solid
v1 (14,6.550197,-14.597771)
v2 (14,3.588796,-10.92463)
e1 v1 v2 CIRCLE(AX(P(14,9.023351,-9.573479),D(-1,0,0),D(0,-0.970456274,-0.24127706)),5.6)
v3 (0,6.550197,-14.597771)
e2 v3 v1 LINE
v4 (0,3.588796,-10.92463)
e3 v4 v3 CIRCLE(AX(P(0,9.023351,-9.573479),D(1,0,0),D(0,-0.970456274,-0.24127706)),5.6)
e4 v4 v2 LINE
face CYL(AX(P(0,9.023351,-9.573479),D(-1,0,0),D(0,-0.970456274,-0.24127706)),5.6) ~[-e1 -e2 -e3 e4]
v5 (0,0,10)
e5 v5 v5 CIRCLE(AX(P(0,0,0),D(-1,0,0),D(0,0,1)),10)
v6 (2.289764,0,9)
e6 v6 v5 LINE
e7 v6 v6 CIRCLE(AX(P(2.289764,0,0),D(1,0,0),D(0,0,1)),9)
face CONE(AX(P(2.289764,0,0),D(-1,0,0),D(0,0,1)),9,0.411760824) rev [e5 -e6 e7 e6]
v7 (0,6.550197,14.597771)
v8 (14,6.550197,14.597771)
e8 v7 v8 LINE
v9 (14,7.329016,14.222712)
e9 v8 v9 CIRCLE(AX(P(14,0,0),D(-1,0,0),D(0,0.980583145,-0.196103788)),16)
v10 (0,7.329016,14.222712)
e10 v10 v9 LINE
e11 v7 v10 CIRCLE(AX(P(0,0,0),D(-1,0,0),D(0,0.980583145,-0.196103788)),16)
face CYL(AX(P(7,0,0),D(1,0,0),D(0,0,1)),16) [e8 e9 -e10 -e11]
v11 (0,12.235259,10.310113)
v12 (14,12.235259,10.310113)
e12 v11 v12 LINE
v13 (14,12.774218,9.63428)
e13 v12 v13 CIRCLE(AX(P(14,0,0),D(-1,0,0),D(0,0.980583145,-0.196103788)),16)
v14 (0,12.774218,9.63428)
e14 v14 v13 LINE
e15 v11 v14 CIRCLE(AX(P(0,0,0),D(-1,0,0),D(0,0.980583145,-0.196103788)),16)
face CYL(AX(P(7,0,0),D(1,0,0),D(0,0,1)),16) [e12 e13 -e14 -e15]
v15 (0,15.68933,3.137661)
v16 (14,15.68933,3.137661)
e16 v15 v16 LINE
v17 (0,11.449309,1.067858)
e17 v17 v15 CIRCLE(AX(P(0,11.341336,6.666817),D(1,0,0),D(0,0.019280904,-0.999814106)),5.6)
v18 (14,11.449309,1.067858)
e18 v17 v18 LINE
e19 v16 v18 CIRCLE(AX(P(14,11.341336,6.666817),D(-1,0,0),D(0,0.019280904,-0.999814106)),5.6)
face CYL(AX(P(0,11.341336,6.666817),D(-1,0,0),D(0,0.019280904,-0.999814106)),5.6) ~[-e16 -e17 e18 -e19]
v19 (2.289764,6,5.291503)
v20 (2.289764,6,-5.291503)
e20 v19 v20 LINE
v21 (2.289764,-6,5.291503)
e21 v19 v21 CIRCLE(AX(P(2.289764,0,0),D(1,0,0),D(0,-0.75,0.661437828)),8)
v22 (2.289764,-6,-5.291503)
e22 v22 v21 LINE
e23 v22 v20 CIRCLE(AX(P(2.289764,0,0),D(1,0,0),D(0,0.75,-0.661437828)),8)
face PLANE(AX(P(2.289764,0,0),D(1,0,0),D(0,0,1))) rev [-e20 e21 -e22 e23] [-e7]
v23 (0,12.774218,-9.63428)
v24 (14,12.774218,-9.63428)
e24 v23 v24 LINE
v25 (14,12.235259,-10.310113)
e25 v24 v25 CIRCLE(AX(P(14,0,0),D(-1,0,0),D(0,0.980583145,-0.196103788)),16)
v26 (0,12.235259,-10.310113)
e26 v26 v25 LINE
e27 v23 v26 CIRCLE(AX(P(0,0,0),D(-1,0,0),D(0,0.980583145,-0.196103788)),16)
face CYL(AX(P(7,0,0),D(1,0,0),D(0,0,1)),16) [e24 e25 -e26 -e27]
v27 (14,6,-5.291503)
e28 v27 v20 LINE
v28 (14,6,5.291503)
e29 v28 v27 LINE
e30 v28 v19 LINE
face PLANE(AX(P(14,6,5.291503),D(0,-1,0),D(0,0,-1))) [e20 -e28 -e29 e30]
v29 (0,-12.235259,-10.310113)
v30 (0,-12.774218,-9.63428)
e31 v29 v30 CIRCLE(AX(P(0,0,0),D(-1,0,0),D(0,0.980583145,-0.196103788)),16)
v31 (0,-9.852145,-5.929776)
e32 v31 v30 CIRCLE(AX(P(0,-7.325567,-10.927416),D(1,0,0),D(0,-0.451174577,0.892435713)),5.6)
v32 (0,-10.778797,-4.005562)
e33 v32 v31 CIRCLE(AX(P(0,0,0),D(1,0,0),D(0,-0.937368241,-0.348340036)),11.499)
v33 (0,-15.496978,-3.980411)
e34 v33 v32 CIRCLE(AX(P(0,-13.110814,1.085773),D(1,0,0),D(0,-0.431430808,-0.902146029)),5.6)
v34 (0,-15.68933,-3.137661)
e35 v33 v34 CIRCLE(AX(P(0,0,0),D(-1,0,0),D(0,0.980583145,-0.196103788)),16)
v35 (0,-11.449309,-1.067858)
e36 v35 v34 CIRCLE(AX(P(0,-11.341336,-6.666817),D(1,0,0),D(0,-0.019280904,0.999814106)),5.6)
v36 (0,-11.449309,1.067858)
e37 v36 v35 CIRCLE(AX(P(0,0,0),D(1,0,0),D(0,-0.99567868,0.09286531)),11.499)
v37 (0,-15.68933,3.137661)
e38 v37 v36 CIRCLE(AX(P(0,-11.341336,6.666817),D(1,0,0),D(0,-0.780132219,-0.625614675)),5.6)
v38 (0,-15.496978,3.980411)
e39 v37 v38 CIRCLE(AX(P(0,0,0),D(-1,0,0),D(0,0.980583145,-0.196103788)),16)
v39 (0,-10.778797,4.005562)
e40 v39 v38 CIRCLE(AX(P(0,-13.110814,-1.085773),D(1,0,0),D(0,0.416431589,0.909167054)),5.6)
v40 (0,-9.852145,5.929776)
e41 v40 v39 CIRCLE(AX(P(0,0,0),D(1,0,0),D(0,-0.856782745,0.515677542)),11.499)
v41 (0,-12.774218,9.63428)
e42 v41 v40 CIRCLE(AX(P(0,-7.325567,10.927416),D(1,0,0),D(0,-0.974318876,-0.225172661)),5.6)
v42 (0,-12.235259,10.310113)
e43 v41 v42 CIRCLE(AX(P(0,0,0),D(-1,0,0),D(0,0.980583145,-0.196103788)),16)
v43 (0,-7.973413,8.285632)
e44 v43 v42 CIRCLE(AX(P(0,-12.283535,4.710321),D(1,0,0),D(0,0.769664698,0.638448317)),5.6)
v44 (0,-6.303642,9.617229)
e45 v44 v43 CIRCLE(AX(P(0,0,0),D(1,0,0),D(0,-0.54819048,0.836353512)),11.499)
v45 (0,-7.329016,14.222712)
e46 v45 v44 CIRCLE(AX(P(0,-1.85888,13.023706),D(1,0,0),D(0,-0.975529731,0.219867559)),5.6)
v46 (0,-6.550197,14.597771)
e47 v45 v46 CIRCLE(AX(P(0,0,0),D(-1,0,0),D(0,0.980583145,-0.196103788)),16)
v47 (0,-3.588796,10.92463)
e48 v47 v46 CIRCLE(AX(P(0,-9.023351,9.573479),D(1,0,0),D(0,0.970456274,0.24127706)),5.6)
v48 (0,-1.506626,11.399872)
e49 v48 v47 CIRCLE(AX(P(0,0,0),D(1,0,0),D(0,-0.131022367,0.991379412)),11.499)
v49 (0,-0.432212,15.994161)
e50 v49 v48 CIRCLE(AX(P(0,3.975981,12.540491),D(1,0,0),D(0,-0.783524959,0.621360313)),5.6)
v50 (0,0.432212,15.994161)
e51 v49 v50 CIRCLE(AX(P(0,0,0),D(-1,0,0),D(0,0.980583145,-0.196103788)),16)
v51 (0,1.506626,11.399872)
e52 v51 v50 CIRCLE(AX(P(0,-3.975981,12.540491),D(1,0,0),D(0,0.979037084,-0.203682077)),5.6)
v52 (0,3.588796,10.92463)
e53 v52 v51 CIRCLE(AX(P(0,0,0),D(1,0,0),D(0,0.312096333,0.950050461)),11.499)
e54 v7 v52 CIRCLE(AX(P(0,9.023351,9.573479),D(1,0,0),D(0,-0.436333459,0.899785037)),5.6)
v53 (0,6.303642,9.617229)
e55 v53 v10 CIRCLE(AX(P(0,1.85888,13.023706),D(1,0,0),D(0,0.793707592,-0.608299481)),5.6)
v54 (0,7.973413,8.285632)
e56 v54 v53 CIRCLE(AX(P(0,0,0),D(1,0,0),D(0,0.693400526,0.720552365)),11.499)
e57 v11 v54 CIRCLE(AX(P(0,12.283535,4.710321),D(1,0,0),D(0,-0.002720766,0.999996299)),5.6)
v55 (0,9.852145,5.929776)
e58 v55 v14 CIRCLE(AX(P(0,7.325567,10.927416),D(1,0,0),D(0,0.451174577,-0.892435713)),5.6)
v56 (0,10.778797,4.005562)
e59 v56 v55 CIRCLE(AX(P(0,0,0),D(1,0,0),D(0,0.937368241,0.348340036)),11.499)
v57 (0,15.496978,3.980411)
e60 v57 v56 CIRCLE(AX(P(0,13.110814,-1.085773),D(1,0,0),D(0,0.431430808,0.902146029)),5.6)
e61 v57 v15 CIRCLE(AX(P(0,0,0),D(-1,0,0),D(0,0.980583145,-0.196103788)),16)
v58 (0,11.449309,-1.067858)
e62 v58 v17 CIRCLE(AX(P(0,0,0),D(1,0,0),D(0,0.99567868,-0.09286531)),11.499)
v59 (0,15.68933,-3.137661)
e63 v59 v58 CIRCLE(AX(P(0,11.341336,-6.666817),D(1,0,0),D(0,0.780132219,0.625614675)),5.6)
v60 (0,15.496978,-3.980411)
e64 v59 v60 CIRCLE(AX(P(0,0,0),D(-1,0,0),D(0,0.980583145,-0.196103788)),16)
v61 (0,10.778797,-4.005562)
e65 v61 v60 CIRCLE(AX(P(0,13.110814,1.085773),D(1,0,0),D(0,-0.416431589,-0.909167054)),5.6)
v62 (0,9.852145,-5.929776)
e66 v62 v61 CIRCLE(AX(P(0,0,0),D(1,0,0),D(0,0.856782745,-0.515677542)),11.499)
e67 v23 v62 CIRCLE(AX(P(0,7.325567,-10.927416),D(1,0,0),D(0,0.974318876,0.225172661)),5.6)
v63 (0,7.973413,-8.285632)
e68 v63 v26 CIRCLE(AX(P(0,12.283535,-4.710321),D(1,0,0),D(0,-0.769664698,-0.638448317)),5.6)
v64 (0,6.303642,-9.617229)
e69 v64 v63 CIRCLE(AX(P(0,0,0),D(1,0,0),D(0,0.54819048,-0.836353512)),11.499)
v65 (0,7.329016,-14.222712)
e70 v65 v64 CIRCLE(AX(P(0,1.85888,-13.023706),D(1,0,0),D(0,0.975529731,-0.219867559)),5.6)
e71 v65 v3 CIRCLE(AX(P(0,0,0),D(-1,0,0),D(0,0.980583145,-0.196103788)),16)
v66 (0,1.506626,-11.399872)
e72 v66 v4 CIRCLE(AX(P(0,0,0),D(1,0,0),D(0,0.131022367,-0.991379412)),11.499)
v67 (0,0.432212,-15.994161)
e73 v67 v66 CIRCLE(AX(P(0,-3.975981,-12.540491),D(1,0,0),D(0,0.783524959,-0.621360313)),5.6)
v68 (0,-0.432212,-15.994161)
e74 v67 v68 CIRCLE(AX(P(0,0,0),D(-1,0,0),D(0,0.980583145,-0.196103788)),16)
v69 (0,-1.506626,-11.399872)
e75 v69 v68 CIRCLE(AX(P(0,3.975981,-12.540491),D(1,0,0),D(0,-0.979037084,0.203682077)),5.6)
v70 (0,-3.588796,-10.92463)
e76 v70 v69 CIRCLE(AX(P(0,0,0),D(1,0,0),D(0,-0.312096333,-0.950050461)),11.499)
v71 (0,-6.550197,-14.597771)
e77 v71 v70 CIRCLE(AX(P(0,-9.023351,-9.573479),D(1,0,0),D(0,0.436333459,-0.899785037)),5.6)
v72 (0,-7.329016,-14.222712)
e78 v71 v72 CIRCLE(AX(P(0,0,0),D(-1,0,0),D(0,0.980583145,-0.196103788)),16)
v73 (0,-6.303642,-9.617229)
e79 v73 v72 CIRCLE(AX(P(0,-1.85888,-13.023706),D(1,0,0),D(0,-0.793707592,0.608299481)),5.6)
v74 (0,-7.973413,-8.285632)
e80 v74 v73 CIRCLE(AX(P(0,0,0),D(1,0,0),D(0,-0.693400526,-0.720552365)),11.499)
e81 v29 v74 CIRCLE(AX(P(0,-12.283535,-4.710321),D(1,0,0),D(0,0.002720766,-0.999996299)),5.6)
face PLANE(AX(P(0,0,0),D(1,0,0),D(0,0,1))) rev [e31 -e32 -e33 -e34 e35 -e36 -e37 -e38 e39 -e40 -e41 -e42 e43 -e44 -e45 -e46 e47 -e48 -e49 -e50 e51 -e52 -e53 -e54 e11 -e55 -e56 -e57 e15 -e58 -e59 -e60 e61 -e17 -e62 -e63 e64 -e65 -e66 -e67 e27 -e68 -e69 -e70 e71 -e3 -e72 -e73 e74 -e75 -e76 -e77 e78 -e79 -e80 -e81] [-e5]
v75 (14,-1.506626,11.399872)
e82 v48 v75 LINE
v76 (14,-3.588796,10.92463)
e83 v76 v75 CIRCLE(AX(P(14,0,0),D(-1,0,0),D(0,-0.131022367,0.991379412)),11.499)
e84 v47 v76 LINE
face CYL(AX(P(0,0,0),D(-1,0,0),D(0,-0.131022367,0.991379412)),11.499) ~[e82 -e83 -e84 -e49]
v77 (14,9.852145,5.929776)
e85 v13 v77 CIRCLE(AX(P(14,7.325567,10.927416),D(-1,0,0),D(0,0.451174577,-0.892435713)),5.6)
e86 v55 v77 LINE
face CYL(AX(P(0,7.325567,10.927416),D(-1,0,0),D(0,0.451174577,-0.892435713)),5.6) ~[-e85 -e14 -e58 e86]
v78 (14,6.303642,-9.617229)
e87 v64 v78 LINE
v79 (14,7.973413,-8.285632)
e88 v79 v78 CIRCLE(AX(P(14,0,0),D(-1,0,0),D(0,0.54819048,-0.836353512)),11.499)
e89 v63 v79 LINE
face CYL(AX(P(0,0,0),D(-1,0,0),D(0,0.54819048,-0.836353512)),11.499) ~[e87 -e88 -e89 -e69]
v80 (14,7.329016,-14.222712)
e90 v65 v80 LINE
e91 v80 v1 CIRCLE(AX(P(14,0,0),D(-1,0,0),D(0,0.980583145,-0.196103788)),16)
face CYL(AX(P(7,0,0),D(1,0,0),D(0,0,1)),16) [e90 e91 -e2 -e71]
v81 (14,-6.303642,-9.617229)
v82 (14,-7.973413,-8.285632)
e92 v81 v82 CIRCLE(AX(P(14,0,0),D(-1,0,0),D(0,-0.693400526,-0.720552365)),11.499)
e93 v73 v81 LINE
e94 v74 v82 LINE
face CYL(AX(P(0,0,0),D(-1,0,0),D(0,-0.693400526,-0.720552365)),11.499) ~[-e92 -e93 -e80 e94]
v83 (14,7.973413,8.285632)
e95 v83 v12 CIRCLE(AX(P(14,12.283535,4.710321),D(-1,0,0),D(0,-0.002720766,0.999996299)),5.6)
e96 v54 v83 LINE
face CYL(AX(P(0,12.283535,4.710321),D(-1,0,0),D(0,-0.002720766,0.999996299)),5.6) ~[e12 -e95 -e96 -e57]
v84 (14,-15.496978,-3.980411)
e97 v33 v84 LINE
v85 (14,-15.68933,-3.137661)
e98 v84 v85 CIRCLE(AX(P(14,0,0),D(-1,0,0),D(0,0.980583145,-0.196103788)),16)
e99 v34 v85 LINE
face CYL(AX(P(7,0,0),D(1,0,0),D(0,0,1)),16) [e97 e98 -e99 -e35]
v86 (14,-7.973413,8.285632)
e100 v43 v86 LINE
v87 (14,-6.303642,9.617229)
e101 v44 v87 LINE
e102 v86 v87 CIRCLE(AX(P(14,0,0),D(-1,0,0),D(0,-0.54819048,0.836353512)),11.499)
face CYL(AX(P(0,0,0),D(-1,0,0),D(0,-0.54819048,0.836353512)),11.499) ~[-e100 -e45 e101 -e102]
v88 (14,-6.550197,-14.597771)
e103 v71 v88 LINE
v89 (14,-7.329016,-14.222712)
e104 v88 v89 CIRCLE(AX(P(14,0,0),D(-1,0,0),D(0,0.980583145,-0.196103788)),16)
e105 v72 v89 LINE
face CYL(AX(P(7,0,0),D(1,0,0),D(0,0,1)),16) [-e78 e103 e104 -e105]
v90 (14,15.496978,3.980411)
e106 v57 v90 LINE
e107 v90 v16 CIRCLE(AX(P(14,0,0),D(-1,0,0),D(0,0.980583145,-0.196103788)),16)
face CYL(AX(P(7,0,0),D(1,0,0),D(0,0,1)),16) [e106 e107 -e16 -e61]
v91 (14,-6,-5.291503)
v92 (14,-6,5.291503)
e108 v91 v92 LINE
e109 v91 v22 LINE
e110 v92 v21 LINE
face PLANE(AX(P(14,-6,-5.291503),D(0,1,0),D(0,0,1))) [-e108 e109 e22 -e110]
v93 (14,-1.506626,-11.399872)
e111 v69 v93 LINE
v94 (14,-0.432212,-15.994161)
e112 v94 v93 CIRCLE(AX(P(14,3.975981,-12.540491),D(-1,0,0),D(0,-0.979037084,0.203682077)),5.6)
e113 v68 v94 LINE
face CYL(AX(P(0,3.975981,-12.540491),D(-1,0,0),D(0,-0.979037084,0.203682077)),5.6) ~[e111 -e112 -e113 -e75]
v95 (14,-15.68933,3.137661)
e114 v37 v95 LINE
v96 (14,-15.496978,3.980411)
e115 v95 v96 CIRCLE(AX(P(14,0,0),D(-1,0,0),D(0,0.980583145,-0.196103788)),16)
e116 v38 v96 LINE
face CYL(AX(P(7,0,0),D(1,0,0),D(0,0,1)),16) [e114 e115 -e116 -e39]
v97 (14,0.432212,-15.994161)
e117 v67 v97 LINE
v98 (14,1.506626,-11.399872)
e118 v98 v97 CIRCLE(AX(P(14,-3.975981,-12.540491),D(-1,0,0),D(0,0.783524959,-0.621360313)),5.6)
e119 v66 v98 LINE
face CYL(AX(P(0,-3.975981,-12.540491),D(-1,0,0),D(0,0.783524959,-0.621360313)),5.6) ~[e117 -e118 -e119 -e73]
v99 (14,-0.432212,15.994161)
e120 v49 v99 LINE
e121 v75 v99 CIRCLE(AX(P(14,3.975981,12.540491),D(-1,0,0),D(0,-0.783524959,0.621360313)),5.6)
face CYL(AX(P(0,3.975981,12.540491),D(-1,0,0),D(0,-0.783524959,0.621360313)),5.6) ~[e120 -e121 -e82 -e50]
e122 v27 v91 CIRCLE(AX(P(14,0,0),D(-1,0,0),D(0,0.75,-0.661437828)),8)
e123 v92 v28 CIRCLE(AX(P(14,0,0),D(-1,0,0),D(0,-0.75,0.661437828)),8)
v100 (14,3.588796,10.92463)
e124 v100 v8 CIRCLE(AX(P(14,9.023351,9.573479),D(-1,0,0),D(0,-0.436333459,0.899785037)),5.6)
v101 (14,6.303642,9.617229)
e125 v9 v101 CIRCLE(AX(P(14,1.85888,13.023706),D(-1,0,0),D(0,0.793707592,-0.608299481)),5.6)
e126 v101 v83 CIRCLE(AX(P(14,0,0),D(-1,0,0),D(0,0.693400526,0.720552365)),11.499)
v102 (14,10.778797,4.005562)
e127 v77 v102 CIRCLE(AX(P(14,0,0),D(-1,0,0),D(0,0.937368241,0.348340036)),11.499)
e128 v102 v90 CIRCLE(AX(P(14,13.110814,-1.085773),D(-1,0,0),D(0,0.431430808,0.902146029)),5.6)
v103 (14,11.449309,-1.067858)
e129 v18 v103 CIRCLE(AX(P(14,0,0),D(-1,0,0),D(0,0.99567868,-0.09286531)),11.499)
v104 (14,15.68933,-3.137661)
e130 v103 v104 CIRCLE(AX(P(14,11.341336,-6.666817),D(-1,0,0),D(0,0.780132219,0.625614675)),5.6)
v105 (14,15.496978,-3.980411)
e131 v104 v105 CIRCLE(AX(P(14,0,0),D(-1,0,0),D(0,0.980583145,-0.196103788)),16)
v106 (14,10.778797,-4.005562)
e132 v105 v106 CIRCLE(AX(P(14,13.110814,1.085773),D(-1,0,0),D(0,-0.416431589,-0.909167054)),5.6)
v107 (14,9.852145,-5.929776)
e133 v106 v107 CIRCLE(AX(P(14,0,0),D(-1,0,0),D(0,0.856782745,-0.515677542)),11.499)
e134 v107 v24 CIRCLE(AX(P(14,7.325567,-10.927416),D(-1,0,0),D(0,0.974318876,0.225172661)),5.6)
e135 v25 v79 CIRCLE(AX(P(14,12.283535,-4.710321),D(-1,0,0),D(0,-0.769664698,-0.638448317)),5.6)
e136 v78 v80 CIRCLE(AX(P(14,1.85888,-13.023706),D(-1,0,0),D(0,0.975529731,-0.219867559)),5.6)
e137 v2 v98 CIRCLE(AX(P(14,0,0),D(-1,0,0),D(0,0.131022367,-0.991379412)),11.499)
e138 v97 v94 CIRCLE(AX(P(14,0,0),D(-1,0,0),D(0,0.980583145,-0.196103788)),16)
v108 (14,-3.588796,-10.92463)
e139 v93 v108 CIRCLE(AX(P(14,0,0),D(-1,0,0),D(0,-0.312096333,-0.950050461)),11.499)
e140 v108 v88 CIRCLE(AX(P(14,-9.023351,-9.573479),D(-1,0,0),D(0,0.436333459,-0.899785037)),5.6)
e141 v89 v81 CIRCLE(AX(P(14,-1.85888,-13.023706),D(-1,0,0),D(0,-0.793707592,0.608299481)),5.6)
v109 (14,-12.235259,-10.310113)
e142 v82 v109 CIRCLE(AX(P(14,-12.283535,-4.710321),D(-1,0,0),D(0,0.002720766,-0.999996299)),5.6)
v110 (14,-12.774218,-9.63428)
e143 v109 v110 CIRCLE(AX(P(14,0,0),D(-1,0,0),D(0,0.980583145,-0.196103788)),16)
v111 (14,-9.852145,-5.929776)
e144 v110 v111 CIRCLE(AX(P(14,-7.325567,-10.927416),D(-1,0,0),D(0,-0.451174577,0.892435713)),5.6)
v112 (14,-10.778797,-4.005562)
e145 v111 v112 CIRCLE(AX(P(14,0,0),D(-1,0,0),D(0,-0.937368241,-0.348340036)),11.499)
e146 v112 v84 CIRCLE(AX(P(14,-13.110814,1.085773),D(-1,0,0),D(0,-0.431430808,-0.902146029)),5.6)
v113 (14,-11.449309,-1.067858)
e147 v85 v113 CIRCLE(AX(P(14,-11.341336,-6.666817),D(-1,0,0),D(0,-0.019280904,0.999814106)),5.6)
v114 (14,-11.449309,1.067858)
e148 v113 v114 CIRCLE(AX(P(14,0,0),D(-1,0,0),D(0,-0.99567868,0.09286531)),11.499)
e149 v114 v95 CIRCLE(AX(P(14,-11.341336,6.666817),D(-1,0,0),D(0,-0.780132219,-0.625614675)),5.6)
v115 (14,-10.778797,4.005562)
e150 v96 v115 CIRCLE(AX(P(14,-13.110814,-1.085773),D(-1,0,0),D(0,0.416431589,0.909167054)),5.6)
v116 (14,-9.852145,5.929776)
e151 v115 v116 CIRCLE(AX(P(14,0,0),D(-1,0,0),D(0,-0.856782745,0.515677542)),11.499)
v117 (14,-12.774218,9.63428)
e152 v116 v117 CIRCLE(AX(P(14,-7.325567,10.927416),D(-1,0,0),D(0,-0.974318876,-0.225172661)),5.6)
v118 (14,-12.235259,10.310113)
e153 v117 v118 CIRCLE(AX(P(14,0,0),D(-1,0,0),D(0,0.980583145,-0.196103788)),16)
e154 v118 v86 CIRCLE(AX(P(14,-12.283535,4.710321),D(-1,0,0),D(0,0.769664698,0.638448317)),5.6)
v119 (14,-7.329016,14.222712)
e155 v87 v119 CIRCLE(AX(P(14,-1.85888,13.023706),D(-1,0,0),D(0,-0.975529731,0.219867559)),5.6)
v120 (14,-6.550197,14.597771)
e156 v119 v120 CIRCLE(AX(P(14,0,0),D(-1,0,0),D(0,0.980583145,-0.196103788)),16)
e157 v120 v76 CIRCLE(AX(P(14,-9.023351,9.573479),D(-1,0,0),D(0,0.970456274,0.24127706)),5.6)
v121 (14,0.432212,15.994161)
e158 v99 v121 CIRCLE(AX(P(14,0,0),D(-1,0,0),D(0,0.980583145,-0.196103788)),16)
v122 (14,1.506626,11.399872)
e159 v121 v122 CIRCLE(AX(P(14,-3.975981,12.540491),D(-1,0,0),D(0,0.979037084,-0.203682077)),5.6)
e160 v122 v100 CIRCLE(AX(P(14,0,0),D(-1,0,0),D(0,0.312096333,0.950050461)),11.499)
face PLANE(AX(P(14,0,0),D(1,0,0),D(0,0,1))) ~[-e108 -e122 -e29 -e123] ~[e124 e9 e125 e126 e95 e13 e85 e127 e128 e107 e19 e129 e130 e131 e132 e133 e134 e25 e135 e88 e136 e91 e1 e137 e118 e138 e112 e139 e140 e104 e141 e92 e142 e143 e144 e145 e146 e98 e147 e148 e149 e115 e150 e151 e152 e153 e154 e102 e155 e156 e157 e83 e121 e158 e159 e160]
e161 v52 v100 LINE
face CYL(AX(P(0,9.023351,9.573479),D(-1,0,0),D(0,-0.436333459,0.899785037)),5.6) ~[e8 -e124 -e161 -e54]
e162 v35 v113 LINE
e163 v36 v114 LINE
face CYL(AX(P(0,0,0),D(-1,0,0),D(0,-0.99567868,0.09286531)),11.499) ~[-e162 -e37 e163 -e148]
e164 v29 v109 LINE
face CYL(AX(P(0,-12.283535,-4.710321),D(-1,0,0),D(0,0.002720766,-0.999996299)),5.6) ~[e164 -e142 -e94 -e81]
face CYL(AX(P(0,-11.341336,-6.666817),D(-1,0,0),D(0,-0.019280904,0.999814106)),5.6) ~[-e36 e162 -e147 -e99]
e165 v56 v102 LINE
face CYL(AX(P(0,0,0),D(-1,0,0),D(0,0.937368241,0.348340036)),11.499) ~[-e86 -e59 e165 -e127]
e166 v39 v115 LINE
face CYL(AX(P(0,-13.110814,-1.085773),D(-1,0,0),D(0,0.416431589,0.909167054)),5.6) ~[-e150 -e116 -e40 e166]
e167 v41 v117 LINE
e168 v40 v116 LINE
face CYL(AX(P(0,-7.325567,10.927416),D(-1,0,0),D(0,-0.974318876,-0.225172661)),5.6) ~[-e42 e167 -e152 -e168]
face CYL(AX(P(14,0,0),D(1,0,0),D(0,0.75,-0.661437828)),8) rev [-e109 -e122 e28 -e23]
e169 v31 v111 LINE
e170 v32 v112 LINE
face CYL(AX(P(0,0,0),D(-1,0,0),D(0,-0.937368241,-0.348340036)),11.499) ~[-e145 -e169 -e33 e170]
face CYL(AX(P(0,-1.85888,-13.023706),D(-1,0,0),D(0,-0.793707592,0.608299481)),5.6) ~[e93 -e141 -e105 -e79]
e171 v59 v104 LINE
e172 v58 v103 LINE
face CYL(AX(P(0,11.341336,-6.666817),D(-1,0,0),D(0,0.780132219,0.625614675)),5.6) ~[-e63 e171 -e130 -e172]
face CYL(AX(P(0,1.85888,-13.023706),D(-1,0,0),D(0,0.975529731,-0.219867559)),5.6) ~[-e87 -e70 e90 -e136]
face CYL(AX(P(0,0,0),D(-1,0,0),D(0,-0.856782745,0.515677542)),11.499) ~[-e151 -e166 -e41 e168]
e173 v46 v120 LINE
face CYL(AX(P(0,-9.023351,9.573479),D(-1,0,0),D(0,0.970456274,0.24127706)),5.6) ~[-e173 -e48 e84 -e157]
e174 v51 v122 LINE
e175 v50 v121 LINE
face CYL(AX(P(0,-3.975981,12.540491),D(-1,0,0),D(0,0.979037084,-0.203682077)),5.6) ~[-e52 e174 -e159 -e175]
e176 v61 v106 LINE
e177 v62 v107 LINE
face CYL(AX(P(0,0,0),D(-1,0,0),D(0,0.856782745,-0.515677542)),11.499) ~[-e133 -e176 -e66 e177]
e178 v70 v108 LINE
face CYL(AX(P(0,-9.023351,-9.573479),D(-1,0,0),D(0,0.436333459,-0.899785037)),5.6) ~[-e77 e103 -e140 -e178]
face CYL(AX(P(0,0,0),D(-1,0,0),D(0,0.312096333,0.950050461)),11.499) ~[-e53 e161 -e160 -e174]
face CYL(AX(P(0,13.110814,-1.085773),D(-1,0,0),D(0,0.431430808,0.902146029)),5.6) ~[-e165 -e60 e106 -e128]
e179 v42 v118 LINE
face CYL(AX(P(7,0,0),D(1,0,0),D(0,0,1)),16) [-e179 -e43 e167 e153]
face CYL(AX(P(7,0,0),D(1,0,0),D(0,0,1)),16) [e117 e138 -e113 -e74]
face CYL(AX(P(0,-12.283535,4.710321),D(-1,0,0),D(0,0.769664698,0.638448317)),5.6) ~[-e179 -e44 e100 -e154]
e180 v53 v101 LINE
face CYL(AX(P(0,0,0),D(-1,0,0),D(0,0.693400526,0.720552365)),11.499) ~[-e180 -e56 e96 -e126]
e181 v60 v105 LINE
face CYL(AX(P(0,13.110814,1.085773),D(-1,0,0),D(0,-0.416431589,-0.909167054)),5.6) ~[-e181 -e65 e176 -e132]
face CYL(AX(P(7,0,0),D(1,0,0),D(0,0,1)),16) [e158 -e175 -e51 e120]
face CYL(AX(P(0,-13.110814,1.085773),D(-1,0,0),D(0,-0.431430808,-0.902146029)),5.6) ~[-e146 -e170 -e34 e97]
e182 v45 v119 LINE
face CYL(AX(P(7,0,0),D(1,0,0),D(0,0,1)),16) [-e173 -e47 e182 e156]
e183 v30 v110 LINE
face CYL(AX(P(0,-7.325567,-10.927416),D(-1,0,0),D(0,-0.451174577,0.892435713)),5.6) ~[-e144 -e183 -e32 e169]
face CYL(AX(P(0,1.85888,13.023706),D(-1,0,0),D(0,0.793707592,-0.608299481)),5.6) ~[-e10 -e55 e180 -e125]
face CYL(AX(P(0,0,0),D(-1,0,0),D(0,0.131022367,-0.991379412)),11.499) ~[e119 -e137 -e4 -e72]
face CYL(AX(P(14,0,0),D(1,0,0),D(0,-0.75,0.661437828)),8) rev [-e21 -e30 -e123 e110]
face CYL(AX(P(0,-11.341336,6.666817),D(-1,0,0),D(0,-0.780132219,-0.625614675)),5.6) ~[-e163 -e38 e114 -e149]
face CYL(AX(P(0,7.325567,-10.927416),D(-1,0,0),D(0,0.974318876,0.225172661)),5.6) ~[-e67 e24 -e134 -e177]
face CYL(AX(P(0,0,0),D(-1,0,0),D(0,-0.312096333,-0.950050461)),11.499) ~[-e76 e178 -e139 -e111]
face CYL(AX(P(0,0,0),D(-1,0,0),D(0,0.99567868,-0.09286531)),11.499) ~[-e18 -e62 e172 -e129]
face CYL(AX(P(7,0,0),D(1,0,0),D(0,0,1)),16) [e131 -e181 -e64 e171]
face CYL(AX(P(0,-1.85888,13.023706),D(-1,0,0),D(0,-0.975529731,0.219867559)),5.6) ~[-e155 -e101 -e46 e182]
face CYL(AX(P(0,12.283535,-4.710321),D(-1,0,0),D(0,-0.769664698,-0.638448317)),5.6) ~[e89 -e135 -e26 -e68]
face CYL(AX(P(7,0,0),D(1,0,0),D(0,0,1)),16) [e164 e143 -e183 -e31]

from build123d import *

# Parameters (mm, degrees)
BASPROSKE_W        = 14
BASPROSKE_H        = 16
TOOTHCUT_DEPTH     = 27.608269391
TEETHCUTS_COUNT    = 14
TEETHCUTS_ANGLE    = 334.285714286
BORSKE_R           = 0.4
BORE_DEPTH         = 50.0000508
CUT_EXTRUDE1_DEPTH = 27.422624507


with BuildPart() as part:
    # BasProSke → Base-Revolve (revolve)
    with BuildSketch(Plane(origin=(0, 0, 0), x_dir=(1, 0, 0), z_dir=(0, 1, 0)), mode=Mode.PRIVATE) as base_revolve_sk:
        with Locations((7, 8)):
            Rectangle(BASPROSKE_W, BASPROSKE_H)
    revolve(base_revolve_sk.sketch.rotate(Axis((-10, 0, 0), (1, 0, 0)), 180), axis=Axis((-10, 0, 0), (1, 0, 0)))

    # TooCutSke → ToothCut (cut, through all)
    with BuildSketch(Plane(origin=(0, 0, 0), x_dir=(0, 0, -1), z_dir=(1, 0, 0))):
        with BuildLine():
            ThreePointArc((1.067858192, 11.449309144), (0, 11.499), (-1.067858192, 11.449309144))
            ThreePointArc((-1.067858192, 11.449309144), (-1.641684211, 13.812780716), (-3.163375005, 15.710076503))
            ThreePointArc((-3.163375005, 15.710076503), (0, 16.0254), (3.163375005, 15.710076503))
            ThreePointArc((3.163375005, 15.710076503), (1.641684211, 13.812780716), (1.067858192, 11.449309144))
        make_face()
    toothcut = extrude(amount=TOOTHCUT_DEPTH, mode=Mode.SUBTRACT)

    # TeethCuts: ToothCut ×14 about axis
    teethcuts_axis = Axis((-10, 0, 0), (1, 0, 0))
    for i in range(1, TEETHCUTS_COUNT):
        add(toothcut.rotate(teethcuts_axis, i * TEETHCUTS_ANGLE / (TEETHCUTS_COUNT - 1)), mode=Mode.SUBTRACT)

    # BorSke → Bore (cut, symmetric)
    with BuildSketch(Plane(origin=(0, 0, 0), x_dir=(0, 0, -1), z_dir=(1, 0, 0))):
        with Locations(Location((0, 0, 0), (0, 0, 180))):
            Circle(BORSKE_R)
    extrude(amount=BORE_DEPTH, both=True, mode=Mode.SUBTRACT)

    # Sketch1 → Cut-Extrude1 (cut, through all)
    with BuildSketch(Plane(origin=(14, 0, 0), x_dir=(0, 0, -1), z_dir=(1, 0, 0))):
        with BuildLine():
            Line((-5.291502622, 6), (5.291502622, 6))
            ThreePointArc((5.291502622, 6), (8, 0), (5.291502622, -6))
            Line((5.291502622, -6), (-5.291502622, -6))
            ThreePointArc((-5.291502622, -6), (-8, 0), (-5.291502622, 6))
        make_face()
    extrude(amount=-CUT_EXTRUDE1_DEPTH, mode=Mode.SUBTRACT)

    # Sketch3 → Cut-Revolve2 (revolve, cut)
    with BuildSketch(Plane(origin=(0, 0, 0), x_dir=(1, 0, 0), z_dir=(0, 1, 0)), mode=Mode.PRIVATE) as cut_revolve2_sk:
        Polygon((0, 0), (2.289763839, 0), (2.289763839, 9), (-2.541437219, 11.109912375), (-2.541437219, 0), align=None)
    revolve(cut_revolve2_sk.sketch.rotate(Axis((-21.436119779, 0, 0), (1, 0, 0)), 180), axis=Axis((-21.436119779, 0, 0), (1, 0, 0)), mode=Mode.SUBTRACT)


solid = part.part
